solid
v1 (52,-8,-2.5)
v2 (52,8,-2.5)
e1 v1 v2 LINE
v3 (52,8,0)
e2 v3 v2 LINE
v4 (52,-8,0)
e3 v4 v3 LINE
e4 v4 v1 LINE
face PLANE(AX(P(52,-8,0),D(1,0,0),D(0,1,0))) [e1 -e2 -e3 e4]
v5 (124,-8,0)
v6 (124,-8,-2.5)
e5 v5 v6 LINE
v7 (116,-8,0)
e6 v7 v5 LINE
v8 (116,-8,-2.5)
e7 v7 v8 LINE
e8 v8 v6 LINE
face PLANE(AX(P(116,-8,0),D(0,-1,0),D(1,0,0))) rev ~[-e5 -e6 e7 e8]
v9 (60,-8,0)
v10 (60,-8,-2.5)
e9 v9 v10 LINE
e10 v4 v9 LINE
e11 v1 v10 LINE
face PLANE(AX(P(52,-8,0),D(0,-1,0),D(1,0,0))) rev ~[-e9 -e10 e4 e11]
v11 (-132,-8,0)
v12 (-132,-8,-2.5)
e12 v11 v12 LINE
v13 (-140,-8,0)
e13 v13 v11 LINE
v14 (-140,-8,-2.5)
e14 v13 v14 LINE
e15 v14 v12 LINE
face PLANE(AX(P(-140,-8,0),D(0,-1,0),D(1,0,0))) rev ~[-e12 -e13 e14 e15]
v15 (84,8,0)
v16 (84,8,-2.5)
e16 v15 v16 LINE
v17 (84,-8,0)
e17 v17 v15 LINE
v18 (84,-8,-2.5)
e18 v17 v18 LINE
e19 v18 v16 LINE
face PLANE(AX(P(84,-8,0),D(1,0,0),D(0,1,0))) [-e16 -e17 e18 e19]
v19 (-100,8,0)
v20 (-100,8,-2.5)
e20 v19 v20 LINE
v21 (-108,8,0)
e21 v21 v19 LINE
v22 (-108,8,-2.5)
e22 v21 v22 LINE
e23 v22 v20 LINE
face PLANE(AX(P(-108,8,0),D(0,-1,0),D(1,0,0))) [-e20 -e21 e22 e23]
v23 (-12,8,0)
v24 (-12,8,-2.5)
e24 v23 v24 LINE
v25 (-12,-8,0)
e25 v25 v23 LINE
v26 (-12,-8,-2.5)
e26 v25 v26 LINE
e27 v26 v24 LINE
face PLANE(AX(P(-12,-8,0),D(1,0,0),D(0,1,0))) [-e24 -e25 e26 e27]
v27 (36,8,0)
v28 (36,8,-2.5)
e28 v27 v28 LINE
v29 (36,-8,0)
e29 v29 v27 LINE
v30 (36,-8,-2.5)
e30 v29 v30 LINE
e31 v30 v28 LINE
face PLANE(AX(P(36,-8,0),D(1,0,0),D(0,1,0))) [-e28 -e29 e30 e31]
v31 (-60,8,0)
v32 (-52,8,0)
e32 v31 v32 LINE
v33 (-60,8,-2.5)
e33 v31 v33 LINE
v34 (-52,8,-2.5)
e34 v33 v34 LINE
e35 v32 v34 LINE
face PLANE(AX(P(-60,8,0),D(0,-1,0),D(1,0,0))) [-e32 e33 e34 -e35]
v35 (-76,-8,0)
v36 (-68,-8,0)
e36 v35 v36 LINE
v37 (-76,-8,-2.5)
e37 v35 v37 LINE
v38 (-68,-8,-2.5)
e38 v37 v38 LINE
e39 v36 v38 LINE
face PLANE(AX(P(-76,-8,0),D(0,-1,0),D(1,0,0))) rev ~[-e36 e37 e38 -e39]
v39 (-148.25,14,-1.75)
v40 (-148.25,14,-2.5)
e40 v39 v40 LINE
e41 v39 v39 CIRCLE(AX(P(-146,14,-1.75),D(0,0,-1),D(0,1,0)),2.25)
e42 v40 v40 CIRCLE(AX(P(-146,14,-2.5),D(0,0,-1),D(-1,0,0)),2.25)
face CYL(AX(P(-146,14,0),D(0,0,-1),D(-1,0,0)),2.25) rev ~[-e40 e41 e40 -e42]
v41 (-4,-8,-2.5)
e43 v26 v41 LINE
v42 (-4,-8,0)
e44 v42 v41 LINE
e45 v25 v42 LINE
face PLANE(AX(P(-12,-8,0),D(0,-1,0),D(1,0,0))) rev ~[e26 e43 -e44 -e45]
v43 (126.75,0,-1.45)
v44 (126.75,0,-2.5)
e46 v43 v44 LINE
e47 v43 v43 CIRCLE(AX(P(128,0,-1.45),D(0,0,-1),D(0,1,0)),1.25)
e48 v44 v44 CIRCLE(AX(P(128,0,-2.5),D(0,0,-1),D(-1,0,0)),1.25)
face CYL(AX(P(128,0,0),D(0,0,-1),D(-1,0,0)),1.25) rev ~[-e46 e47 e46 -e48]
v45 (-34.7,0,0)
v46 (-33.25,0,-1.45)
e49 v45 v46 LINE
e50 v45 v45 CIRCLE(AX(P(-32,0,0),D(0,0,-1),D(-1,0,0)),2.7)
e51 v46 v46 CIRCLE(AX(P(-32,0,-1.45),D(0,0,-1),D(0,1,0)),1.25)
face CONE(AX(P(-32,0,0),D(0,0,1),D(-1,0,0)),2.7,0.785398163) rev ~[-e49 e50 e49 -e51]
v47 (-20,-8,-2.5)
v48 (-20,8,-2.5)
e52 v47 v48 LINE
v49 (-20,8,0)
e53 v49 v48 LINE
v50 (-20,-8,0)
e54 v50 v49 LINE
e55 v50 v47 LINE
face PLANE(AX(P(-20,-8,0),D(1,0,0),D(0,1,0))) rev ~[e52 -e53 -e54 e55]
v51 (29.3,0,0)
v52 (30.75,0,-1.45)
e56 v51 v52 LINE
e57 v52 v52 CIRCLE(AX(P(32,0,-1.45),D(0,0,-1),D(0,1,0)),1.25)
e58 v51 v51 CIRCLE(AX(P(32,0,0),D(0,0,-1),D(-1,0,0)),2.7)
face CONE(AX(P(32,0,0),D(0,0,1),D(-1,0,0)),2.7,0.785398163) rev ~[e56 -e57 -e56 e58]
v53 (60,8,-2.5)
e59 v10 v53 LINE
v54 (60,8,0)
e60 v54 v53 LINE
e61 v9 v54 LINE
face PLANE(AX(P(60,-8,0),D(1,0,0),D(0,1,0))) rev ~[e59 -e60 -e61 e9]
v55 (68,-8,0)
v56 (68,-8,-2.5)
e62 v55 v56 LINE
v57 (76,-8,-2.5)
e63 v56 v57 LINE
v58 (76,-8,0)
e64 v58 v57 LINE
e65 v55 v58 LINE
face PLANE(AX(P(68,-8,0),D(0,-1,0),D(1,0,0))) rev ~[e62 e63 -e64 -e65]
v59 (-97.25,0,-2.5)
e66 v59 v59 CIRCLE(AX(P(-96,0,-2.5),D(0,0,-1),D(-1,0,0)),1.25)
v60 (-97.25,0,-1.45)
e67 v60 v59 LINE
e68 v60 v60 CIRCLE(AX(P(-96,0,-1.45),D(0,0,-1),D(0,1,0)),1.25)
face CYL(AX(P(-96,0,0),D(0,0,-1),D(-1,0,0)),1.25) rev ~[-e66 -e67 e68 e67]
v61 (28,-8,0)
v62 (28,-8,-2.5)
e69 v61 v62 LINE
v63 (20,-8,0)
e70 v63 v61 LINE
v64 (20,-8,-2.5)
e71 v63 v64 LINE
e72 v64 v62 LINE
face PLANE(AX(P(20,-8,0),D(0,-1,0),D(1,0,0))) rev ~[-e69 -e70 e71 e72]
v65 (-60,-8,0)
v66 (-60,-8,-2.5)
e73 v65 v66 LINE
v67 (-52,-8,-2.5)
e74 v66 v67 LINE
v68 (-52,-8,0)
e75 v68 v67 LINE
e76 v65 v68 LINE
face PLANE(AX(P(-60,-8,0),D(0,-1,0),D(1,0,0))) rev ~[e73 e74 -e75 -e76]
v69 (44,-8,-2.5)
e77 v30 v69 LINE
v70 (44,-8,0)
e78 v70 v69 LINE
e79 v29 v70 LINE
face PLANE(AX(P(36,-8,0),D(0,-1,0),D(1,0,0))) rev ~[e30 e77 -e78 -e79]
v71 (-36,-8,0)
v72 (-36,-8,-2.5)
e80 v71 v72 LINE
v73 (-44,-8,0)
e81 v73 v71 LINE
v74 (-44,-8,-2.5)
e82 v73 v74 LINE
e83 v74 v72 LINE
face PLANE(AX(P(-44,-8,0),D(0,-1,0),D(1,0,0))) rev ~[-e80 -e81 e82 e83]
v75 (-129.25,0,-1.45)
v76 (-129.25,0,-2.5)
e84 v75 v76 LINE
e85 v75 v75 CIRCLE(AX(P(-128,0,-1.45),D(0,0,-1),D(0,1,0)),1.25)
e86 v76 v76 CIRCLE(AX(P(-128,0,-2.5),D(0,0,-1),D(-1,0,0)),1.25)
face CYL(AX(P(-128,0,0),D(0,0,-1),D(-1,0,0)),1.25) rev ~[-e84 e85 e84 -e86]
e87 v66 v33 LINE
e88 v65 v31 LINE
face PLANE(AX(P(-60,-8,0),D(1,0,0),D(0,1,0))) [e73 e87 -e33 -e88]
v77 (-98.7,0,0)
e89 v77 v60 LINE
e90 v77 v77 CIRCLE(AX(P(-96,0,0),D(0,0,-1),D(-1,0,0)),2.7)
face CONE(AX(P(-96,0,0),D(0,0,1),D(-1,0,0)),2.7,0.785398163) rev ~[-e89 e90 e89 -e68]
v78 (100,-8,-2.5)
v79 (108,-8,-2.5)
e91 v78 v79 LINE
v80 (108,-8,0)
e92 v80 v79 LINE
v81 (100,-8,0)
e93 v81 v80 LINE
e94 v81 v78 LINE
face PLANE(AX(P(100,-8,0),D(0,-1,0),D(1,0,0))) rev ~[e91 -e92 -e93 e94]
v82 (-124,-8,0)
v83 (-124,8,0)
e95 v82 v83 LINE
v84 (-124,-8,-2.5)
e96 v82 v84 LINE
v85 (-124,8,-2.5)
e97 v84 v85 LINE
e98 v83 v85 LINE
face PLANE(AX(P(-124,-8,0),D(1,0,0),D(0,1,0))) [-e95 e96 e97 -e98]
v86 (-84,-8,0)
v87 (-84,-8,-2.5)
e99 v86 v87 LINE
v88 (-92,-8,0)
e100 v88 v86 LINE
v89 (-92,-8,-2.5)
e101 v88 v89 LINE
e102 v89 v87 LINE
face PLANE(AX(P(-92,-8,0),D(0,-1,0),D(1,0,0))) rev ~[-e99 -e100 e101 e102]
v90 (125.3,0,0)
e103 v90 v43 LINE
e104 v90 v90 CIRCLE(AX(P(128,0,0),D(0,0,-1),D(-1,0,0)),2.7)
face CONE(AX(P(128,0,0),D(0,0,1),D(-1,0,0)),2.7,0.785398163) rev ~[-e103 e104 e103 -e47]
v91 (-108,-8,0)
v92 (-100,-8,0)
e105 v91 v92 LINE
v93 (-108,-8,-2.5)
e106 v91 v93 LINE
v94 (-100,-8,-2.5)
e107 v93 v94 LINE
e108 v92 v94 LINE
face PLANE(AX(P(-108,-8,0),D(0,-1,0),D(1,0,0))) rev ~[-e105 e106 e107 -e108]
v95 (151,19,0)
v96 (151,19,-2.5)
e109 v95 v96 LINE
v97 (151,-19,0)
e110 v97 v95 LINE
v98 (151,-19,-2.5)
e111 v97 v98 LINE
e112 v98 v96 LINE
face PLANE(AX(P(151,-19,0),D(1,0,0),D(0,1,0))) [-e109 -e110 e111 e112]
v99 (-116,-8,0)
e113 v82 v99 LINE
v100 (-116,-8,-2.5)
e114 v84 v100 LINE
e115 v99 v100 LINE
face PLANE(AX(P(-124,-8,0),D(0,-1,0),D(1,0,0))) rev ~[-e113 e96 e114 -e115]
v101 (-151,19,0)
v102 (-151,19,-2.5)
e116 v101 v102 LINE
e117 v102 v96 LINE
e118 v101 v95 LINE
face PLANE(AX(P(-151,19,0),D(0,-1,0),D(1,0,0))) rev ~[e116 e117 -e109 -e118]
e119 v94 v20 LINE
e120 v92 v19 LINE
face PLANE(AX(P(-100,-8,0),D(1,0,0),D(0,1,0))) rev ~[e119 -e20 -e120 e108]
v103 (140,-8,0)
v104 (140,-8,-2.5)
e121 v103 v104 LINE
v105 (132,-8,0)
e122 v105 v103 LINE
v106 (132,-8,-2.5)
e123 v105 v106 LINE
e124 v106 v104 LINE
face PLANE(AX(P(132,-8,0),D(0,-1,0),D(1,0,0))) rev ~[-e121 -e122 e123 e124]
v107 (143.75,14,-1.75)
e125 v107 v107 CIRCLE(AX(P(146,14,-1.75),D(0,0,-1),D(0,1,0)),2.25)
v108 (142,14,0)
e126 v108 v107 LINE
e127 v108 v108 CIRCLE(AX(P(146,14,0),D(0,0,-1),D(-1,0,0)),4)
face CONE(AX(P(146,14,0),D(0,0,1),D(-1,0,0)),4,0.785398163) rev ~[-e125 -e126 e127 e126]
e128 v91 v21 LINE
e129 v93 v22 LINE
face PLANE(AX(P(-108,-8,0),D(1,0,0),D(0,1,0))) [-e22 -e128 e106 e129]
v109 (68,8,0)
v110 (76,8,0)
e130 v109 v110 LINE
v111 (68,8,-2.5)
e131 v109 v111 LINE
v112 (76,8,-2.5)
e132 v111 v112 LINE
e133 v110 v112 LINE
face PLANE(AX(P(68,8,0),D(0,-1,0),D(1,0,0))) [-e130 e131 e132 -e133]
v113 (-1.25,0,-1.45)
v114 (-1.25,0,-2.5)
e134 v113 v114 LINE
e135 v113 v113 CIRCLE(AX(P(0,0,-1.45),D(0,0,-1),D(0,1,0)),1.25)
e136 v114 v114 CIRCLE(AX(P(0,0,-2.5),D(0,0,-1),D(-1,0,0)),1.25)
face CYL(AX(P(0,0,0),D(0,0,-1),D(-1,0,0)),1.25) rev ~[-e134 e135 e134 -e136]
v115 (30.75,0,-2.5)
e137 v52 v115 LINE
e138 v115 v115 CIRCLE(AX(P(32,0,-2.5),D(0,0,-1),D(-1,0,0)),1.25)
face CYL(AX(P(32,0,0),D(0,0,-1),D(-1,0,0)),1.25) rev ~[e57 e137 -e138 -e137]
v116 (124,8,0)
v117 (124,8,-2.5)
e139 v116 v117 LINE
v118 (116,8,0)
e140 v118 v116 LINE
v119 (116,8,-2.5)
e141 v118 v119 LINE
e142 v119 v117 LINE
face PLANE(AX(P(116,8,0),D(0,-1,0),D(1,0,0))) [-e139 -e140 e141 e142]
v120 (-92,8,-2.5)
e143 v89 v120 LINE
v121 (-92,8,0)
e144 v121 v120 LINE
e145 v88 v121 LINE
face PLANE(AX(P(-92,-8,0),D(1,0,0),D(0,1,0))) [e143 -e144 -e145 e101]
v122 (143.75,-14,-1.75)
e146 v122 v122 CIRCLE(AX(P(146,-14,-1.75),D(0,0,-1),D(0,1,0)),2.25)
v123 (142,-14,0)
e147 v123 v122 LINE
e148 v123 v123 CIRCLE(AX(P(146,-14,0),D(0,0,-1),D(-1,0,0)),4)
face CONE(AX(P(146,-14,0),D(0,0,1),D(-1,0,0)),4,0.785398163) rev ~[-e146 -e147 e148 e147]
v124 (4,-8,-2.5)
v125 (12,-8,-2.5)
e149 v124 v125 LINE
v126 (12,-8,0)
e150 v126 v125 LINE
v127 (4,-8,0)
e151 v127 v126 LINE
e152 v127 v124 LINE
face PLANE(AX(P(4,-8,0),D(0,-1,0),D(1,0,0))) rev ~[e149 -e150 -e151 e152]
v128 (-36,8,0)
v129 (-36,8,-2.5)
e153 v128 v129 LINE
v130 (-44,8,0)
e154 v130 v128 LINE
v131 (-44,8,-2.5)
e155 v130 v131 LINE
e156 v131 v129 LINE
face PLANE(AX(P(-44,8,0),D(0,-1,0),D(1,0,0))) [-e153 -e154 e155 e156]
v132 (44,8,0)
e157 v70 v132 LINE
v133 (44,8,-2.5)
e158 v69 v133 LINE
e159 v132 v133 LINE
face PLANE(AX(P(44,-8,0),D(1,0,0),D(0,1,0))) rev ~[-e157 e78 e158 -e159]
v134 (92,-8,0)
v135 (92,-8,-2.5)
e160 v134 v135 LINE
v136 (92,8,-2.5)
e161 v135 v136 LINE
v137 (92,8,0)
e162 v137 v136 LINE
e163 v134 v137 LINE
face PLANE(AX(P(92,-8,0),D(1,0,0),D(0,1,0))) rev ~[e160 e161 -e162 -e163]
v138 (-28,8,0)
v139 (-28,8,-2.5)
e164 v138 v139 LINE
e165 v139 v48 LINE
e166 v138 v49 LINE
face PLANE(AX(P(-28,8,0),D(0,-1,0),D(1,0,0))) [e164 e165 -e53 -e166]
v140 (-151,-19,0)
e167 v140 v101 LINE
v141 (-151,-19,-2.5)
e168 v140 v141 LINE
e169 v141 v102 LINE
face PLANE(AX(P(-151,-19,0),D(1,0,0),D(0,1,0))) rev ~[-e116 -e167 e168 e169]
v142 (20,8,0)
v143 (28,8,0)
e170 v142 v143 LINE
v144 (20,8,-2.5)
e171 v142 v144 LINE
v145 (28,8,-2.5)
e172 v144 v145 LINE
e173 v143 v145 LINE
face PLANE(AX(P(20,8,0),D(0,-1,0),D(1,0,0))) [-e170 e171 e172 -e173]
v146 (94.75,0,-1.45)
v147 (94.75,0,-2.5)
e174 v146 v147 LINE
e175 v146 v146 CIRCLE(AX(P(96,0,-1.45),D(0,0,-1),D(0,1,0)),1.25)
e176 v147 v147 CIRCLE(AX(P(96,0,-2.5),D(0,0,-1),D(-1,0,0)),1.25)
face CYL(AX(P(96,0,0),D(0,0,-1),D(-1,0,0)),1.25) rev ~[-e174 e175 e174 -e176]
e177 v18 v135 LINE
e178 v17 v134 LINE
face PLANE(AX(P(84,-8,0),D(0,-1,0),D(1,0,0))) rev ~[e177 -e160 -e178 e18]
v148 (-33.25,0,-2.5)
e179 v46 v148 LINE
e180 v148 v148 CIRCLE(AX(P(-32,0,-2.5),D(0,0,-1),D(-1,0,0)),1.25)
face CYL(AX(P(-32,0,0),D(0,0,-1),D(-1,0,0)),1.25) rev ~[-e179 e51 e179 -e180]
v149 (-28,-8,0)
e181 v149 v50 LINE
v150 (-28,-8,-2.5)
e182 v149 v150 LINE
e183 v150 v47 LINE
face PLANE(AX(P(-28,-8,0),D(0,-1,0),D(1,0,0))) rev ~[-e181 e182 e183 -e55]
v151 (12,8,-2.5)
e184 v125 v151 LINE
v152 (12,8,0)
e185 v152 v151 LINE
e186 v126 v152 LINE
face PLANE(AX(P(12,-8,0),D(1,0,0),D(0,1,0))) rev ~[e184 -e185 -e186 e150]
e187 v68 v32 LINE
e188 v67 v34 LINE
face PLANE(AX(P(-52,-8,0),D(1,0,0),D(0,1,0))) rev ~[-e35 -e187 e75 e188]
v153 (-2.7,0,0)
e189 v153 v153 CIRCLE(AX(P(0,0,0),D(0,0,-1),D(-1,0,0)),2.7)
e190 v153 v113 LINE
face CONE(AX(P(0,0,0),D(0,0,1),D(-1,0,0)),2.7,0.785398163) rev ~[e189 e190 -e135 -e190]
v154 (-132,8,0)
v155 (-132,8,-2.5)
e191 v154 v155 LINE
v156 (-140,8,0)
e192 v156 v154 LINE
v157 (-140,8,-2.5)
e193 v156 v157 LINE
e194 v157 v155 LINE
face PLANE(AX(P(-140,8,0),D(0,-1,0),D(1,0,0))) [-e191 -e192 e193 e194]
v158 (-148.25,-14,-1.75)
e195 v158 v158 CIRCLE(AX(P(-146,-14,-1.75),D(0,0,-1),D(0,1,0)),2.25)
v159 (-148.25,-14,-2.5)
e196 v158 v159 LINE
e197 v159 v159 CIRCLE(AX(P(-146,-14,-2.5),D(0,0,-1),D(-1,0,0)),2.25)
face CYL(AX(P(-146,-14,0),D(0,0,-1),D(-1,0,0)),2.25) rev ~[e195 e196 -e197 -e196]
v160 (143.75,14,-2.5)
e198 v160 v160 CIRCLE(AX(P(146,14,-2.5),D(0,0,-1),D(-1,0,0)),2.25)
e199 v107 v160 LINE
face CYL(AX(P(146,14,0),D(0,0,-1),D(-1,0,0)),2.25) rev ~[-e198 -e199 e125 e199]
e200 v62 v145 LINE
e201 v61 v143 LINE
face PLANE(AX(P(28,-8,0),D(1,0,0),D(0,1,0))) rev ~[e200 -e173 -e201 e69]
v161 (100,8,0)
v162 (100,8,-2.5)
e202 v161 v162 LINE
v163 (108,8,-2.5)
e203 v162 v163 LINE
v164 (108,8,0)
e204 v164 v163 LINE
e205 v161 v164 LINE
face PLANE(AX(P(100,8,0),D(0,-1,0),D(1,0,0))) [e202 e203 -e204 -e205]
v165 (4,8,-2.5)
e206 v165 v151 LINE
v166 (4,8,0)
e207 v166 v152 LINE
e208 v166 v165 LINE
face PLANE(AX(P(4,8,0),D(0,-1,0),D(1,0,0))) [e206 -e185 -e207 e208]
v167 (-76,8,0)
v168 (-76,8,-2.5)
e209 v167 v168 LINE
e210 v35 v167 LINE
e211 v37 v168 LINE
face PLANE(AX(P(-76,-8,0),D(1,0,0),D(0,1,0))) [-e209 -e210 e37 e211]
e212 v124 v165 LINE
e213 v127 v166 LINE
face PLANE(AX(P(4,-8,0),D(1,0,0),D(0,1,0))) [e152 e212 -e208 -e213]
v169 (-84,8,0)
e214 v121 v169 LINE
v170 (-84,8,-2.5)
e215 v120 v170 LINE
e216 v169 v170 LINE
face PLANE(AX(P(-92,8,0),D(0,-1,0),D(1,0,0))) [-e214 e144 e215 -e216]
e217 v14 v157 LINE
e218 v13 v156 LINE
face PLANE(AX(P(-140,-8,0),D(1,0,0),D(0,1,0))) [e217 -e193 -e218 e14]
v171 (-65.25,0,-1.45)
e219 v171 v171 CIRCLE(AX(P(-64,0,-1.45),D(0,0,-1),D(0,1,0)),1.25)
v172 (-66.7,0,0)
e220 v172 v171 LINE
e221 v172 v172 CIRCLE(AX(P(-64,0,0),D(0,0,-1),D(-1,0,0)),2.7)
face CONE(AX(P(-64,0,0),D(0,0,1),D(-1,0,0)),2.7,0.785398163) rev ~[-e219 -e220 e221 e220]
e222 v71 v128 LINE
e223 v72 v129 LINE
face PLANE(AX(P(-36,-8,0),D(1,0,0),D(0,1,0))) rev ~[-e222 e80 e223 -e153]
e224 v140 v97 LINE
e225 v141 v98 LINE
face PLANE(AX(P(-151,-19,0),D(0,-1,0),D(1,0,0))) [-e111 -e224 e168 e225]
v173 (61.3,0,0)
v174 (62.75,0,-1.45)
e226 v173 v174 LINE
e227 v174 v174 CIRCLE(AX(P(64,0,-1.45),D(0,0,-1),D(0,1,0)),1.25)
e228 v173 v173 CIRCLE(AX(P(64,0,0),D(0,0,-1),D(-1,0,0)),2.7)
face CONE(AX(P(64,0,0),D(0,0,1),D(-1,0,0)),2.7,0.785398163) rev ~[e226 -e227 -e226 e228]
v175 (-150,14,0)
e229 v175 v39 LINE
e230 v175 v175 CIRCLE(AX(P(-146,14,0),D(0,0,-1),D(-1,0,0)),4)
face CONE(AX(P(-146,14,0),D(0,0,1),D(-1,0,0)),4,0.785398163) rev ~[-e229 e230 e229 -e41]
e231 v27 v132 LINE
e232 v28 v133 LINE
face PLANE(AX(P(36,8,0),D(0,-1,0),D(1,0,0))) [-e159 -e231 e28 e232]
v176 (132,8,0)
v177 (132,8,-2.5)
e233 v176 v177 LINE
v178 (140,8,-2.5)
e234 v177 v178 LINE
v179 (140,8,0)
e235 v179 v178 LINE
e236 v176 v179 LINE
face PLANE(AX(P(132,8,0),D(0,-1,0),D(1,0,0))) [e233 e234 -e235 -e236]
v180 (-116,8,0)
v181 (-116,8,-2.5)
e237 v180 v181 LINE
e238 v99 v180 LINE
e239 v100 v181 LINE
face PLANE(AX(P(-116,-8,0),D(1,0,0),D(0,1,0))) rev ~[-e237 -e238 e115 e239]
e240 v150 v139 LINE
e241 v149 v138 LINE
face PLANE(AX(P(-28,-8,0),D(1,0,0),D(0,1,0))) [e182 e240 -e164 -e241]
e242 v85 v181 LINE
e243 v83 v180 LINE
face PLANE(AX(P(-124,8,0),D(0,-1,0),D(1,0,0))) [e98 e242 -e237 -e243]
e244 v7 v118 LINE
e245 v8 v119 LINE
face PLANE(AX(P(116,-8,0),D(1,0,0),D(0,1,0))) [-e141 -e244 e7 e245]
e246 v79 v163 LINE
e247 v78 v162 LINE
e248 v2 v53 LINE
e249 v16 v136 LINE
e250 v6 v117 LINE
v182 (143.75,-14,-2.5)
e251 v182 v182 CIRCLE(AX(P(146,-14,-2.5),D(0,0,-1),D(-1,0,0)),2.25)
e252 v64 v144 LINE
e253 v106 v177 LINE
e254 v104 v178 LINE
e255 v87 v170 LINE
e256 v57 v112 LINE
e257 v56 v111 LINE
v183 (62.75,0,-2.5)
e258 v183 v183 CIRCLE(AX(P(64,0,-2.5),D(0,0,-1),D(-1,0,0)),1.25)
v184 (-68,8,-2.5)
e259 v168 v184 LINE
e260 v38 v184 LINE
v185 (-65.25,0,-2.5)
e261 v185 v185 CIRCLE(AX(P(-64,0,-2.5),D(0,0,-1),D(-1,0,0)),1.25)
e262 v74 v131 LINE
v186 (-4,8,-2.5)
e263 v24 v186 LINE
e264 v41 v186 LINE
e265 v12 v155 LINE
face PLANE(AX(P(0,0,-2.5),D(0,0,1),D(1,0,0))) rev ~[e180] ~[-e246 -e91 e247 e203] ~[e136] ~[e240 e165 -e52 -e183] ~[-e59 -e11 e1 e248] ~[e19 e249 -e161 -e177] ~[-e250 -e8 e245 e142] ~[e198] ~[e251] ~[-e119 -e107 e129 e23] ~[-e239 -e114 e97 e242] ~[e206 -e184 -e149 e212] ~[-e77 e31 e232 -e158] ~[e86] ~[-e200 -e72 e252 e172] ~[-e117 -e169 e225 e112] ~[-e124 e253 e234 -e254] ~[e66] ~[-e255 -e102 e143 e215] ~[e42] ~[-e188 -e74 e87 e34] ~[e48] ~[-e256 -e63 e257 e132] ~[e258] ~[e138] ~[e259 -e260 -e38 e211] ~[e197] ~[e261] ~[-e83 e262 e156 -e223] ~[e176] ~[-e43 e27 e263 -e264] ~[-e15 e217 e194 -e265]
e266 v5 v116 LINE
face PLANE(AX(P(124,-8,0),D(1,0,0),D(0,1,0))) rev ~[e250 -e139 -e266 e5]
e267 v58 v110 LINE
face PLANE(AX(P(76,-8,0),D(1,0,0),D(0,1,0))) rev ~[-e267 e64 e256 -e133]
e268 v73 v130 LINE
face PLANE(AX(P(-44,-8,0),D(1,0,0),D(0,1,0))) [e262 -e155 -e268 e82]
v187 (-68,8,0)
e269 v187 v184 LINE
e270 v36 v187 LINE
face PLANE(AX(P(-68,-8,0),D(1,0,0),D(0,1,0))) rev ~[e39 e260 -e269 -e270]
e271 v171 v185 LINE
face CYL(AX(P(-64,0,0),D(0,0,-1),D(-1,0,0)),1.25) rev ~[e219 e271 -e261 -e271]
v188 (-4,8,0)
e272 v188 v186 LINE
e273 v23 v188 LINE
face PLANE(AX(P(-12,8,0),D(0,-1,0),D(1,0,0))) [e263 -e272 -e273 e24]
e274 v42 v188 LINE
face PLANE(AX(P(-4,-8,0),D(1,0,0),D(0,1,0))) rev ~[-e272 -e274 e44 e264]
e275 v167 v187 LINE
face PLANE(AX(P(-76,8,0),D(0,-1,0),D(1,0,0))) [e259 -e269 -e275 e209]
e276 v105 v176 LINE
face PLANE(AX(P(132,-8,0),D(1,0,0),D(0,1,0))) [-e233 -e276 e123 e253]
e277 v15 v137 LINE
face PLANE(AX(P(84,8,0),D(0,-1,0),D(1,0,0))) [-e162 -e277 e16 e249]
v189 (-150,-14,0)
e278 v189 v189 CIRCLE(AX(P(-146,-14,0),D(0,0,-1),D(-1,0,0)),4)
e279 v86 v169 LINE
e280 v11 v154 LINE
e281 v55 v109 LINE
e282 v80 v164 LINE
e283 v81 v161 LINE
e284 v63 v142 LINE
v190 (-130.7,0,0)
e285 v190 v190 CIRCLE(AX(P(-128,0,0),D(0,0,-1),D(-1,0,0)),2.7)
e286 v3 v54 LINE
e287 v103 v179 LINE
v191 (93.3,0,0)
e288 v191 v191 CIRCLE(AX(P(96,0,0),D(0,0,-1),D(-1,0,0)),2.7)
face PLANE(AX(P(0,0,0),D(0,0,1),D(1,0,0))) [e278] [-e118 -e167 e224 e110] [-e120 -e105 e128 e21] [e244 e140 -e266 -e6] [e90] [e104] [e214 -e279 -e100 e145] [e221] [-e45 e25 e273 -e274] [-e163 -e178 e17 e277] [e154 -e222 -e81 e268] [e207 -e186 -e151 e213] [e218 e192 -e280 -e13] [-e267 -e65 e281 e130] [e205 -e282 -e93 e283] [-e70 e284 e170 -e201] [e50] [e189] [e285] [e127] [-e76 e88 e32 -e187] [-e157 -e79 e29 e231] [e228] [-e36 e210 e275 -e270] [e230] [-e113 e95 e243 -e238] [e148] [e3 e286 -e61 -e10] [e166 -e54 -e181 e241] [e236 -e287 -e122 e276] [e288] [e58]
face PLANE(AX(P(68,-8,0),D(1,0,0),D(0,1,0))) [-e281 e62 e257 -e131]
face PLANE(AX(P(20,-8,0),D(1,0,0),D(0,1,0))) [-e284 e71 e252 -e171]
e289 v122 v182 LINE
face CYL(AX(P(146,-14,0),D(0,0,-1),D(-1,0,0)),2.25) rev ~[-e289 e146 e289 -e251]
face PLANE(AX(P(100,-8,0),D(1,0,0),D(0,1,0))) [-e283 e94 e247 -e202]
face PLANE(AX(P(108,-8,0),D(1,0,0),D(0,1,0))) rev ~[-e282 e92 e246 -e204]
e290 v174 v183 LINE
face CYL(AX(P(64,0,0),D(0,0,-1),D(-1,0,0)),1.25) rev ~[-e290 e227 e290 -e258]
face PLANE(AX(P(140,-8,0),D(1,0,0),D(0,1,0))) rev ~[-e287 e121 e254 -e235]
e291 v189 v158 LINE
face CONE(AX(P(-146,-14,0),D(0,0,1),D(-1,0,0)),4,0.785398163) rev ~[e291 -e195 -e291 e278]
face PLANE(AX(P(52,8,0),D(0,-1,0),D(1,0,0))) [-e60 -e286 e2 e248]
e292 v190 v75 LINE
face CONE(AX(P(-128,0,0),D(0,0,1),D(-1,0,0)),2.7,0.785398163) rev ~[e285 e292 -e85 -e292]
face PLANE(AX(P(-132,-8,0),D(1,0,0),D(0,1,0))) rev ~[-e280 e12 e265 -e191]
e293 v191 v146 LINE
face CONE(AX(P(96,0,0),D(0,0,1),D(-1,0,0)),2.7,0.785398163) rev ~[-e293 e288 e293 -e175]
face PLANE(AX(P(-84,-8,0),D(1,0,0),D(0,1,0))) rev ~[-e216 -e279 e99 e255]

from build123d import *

# Parameters (mm, degrees)
F0_W           = 302
F0_H           = 38
F0_W_2         = 8
F0_H_2         = 16
F1_DEPTH       = 2.5
F2_D           = 2.5
F2_CSINK_D     = 5.4
F2_CSINK_ANGLE = 90
F3_D           = 4.5
F3_CSINK_D     = 8
F3_CSINK_ANGLE = 90
F4_DEPTH       = 2.501


with BuildPart() as f1:
    # F0 (on Top) → F1 (new body)
    with BuildSketch(Plane.XY):
        Rectangle(F0_W, F0_H)
        with Locations((-136, 0)):
            Rectangle(F0_W_2, F0_H_2, mode=Mode.SUBTRACT)
        with Locations((-120, 0)):
            Rectangle(F0_W_2, F0_H_2, mode=Mode.SUBTRACT)
        with Locations((-104, 0)):
            Rectangle(F0_W_2, F0_H_2, mode=Mode.SUBTRACT)
        with Locations((-88, 0)):
            Rectangle(F0_W_2, F0_H_2, mode=Mode.SUBTRACT)
        with Locations((-72, 0)):
            Rectangle(F0_W_2, F0_H_2, mode=Mode.SUBTRACT)
        with Locations((-56, 0)):
            Rectangle(F0_W_2, F0_H_2, mode=Mode.SUBTRACT)
        with Locations((-40, 0)):
            Rectangle(F0_W_2, F0_H_2, mode=Mode.SUBTRACT)
        with Locations((-24, 0)):
            Rectangle(F0_W_2, F0_H_2, mode=Mode.SUBTRACT)
        with Locations((-8, 0)):
            Rectangle(F0_W_2, F0_H_2, mode=Mode.SUBTRACT)
        with Locations((8, 0)):
            Rectangle(F0_W_2, F0_H_2, mode=Mode.SUBTRACT)
        with Locations((24, 0)):
            Rectangle(F0_W_2, F0_H_2, mode=Mode.SUBTRACT)
        with Locations((40, 0)):
            Rectangle(F0_W_2, F0_H_2, mode=Mode.SUBTRACT)
        with Locations((56, 0)):
            Rectangle(F0_W_2, F0_H_2, mode=Mode.SUBTRACT)
        with Locations((72, 0)):
            Rectangle(F0_W_2, F0_H_2, mode=Mode.SUBTRACT)
        with Locations((88, 0)):
            Rectangle(F0_W_2, F0_H_2, mode=Mode.SUBTRACT)
        with Locations((104, 0)):
            Rectangle(F0_W_2, F0_H_2, mode=Mode.SUBTRACT)
        with Locations((120, 0)):
            Rectangle(F0_W_2, F0_H_2, mode=Mode.SUBTRACT)
        with Locations((136, 0)):
            Rectangle(F0_W_2, F0_H_2, mode=Mode.SUBTRACT)
    extrude(amount=-F1_DEPTH)

    # F2 (through all)
    with Locations(Plane.XY):
        with Locations((-128, 0), (-96, 0), (-64, 0), (-32, 0), (0, 0), (32, 0), (64, 0), (96, 0), (128, 0)):
            CounterSinkHole(F2_D / 2, F2_CSINK_D / 2, counter_sink_angle=F2_CSINK_ANGLE)

    # F3 (through all)
    with Locations(Plane.XY):
        with Locations((-146, 14), (-146, -14), (146, 14), (146, -14)):
            CounterSinkHole(F3_D / 2, F3_CSINK_D / 2, counter_sink_angle=F3_CSINK_ANGLE)

    # F0 (on Top) → F4 (cut, through all)
    with BuildSketch(Plane.XY):
        with Locations((-136, 0)):
            Rectangle(F0_W_2, F0_H_2)
    extrude(amount=-F4_DEPTH, mode=Mode.SUBTRACT)


solid = f1.part
